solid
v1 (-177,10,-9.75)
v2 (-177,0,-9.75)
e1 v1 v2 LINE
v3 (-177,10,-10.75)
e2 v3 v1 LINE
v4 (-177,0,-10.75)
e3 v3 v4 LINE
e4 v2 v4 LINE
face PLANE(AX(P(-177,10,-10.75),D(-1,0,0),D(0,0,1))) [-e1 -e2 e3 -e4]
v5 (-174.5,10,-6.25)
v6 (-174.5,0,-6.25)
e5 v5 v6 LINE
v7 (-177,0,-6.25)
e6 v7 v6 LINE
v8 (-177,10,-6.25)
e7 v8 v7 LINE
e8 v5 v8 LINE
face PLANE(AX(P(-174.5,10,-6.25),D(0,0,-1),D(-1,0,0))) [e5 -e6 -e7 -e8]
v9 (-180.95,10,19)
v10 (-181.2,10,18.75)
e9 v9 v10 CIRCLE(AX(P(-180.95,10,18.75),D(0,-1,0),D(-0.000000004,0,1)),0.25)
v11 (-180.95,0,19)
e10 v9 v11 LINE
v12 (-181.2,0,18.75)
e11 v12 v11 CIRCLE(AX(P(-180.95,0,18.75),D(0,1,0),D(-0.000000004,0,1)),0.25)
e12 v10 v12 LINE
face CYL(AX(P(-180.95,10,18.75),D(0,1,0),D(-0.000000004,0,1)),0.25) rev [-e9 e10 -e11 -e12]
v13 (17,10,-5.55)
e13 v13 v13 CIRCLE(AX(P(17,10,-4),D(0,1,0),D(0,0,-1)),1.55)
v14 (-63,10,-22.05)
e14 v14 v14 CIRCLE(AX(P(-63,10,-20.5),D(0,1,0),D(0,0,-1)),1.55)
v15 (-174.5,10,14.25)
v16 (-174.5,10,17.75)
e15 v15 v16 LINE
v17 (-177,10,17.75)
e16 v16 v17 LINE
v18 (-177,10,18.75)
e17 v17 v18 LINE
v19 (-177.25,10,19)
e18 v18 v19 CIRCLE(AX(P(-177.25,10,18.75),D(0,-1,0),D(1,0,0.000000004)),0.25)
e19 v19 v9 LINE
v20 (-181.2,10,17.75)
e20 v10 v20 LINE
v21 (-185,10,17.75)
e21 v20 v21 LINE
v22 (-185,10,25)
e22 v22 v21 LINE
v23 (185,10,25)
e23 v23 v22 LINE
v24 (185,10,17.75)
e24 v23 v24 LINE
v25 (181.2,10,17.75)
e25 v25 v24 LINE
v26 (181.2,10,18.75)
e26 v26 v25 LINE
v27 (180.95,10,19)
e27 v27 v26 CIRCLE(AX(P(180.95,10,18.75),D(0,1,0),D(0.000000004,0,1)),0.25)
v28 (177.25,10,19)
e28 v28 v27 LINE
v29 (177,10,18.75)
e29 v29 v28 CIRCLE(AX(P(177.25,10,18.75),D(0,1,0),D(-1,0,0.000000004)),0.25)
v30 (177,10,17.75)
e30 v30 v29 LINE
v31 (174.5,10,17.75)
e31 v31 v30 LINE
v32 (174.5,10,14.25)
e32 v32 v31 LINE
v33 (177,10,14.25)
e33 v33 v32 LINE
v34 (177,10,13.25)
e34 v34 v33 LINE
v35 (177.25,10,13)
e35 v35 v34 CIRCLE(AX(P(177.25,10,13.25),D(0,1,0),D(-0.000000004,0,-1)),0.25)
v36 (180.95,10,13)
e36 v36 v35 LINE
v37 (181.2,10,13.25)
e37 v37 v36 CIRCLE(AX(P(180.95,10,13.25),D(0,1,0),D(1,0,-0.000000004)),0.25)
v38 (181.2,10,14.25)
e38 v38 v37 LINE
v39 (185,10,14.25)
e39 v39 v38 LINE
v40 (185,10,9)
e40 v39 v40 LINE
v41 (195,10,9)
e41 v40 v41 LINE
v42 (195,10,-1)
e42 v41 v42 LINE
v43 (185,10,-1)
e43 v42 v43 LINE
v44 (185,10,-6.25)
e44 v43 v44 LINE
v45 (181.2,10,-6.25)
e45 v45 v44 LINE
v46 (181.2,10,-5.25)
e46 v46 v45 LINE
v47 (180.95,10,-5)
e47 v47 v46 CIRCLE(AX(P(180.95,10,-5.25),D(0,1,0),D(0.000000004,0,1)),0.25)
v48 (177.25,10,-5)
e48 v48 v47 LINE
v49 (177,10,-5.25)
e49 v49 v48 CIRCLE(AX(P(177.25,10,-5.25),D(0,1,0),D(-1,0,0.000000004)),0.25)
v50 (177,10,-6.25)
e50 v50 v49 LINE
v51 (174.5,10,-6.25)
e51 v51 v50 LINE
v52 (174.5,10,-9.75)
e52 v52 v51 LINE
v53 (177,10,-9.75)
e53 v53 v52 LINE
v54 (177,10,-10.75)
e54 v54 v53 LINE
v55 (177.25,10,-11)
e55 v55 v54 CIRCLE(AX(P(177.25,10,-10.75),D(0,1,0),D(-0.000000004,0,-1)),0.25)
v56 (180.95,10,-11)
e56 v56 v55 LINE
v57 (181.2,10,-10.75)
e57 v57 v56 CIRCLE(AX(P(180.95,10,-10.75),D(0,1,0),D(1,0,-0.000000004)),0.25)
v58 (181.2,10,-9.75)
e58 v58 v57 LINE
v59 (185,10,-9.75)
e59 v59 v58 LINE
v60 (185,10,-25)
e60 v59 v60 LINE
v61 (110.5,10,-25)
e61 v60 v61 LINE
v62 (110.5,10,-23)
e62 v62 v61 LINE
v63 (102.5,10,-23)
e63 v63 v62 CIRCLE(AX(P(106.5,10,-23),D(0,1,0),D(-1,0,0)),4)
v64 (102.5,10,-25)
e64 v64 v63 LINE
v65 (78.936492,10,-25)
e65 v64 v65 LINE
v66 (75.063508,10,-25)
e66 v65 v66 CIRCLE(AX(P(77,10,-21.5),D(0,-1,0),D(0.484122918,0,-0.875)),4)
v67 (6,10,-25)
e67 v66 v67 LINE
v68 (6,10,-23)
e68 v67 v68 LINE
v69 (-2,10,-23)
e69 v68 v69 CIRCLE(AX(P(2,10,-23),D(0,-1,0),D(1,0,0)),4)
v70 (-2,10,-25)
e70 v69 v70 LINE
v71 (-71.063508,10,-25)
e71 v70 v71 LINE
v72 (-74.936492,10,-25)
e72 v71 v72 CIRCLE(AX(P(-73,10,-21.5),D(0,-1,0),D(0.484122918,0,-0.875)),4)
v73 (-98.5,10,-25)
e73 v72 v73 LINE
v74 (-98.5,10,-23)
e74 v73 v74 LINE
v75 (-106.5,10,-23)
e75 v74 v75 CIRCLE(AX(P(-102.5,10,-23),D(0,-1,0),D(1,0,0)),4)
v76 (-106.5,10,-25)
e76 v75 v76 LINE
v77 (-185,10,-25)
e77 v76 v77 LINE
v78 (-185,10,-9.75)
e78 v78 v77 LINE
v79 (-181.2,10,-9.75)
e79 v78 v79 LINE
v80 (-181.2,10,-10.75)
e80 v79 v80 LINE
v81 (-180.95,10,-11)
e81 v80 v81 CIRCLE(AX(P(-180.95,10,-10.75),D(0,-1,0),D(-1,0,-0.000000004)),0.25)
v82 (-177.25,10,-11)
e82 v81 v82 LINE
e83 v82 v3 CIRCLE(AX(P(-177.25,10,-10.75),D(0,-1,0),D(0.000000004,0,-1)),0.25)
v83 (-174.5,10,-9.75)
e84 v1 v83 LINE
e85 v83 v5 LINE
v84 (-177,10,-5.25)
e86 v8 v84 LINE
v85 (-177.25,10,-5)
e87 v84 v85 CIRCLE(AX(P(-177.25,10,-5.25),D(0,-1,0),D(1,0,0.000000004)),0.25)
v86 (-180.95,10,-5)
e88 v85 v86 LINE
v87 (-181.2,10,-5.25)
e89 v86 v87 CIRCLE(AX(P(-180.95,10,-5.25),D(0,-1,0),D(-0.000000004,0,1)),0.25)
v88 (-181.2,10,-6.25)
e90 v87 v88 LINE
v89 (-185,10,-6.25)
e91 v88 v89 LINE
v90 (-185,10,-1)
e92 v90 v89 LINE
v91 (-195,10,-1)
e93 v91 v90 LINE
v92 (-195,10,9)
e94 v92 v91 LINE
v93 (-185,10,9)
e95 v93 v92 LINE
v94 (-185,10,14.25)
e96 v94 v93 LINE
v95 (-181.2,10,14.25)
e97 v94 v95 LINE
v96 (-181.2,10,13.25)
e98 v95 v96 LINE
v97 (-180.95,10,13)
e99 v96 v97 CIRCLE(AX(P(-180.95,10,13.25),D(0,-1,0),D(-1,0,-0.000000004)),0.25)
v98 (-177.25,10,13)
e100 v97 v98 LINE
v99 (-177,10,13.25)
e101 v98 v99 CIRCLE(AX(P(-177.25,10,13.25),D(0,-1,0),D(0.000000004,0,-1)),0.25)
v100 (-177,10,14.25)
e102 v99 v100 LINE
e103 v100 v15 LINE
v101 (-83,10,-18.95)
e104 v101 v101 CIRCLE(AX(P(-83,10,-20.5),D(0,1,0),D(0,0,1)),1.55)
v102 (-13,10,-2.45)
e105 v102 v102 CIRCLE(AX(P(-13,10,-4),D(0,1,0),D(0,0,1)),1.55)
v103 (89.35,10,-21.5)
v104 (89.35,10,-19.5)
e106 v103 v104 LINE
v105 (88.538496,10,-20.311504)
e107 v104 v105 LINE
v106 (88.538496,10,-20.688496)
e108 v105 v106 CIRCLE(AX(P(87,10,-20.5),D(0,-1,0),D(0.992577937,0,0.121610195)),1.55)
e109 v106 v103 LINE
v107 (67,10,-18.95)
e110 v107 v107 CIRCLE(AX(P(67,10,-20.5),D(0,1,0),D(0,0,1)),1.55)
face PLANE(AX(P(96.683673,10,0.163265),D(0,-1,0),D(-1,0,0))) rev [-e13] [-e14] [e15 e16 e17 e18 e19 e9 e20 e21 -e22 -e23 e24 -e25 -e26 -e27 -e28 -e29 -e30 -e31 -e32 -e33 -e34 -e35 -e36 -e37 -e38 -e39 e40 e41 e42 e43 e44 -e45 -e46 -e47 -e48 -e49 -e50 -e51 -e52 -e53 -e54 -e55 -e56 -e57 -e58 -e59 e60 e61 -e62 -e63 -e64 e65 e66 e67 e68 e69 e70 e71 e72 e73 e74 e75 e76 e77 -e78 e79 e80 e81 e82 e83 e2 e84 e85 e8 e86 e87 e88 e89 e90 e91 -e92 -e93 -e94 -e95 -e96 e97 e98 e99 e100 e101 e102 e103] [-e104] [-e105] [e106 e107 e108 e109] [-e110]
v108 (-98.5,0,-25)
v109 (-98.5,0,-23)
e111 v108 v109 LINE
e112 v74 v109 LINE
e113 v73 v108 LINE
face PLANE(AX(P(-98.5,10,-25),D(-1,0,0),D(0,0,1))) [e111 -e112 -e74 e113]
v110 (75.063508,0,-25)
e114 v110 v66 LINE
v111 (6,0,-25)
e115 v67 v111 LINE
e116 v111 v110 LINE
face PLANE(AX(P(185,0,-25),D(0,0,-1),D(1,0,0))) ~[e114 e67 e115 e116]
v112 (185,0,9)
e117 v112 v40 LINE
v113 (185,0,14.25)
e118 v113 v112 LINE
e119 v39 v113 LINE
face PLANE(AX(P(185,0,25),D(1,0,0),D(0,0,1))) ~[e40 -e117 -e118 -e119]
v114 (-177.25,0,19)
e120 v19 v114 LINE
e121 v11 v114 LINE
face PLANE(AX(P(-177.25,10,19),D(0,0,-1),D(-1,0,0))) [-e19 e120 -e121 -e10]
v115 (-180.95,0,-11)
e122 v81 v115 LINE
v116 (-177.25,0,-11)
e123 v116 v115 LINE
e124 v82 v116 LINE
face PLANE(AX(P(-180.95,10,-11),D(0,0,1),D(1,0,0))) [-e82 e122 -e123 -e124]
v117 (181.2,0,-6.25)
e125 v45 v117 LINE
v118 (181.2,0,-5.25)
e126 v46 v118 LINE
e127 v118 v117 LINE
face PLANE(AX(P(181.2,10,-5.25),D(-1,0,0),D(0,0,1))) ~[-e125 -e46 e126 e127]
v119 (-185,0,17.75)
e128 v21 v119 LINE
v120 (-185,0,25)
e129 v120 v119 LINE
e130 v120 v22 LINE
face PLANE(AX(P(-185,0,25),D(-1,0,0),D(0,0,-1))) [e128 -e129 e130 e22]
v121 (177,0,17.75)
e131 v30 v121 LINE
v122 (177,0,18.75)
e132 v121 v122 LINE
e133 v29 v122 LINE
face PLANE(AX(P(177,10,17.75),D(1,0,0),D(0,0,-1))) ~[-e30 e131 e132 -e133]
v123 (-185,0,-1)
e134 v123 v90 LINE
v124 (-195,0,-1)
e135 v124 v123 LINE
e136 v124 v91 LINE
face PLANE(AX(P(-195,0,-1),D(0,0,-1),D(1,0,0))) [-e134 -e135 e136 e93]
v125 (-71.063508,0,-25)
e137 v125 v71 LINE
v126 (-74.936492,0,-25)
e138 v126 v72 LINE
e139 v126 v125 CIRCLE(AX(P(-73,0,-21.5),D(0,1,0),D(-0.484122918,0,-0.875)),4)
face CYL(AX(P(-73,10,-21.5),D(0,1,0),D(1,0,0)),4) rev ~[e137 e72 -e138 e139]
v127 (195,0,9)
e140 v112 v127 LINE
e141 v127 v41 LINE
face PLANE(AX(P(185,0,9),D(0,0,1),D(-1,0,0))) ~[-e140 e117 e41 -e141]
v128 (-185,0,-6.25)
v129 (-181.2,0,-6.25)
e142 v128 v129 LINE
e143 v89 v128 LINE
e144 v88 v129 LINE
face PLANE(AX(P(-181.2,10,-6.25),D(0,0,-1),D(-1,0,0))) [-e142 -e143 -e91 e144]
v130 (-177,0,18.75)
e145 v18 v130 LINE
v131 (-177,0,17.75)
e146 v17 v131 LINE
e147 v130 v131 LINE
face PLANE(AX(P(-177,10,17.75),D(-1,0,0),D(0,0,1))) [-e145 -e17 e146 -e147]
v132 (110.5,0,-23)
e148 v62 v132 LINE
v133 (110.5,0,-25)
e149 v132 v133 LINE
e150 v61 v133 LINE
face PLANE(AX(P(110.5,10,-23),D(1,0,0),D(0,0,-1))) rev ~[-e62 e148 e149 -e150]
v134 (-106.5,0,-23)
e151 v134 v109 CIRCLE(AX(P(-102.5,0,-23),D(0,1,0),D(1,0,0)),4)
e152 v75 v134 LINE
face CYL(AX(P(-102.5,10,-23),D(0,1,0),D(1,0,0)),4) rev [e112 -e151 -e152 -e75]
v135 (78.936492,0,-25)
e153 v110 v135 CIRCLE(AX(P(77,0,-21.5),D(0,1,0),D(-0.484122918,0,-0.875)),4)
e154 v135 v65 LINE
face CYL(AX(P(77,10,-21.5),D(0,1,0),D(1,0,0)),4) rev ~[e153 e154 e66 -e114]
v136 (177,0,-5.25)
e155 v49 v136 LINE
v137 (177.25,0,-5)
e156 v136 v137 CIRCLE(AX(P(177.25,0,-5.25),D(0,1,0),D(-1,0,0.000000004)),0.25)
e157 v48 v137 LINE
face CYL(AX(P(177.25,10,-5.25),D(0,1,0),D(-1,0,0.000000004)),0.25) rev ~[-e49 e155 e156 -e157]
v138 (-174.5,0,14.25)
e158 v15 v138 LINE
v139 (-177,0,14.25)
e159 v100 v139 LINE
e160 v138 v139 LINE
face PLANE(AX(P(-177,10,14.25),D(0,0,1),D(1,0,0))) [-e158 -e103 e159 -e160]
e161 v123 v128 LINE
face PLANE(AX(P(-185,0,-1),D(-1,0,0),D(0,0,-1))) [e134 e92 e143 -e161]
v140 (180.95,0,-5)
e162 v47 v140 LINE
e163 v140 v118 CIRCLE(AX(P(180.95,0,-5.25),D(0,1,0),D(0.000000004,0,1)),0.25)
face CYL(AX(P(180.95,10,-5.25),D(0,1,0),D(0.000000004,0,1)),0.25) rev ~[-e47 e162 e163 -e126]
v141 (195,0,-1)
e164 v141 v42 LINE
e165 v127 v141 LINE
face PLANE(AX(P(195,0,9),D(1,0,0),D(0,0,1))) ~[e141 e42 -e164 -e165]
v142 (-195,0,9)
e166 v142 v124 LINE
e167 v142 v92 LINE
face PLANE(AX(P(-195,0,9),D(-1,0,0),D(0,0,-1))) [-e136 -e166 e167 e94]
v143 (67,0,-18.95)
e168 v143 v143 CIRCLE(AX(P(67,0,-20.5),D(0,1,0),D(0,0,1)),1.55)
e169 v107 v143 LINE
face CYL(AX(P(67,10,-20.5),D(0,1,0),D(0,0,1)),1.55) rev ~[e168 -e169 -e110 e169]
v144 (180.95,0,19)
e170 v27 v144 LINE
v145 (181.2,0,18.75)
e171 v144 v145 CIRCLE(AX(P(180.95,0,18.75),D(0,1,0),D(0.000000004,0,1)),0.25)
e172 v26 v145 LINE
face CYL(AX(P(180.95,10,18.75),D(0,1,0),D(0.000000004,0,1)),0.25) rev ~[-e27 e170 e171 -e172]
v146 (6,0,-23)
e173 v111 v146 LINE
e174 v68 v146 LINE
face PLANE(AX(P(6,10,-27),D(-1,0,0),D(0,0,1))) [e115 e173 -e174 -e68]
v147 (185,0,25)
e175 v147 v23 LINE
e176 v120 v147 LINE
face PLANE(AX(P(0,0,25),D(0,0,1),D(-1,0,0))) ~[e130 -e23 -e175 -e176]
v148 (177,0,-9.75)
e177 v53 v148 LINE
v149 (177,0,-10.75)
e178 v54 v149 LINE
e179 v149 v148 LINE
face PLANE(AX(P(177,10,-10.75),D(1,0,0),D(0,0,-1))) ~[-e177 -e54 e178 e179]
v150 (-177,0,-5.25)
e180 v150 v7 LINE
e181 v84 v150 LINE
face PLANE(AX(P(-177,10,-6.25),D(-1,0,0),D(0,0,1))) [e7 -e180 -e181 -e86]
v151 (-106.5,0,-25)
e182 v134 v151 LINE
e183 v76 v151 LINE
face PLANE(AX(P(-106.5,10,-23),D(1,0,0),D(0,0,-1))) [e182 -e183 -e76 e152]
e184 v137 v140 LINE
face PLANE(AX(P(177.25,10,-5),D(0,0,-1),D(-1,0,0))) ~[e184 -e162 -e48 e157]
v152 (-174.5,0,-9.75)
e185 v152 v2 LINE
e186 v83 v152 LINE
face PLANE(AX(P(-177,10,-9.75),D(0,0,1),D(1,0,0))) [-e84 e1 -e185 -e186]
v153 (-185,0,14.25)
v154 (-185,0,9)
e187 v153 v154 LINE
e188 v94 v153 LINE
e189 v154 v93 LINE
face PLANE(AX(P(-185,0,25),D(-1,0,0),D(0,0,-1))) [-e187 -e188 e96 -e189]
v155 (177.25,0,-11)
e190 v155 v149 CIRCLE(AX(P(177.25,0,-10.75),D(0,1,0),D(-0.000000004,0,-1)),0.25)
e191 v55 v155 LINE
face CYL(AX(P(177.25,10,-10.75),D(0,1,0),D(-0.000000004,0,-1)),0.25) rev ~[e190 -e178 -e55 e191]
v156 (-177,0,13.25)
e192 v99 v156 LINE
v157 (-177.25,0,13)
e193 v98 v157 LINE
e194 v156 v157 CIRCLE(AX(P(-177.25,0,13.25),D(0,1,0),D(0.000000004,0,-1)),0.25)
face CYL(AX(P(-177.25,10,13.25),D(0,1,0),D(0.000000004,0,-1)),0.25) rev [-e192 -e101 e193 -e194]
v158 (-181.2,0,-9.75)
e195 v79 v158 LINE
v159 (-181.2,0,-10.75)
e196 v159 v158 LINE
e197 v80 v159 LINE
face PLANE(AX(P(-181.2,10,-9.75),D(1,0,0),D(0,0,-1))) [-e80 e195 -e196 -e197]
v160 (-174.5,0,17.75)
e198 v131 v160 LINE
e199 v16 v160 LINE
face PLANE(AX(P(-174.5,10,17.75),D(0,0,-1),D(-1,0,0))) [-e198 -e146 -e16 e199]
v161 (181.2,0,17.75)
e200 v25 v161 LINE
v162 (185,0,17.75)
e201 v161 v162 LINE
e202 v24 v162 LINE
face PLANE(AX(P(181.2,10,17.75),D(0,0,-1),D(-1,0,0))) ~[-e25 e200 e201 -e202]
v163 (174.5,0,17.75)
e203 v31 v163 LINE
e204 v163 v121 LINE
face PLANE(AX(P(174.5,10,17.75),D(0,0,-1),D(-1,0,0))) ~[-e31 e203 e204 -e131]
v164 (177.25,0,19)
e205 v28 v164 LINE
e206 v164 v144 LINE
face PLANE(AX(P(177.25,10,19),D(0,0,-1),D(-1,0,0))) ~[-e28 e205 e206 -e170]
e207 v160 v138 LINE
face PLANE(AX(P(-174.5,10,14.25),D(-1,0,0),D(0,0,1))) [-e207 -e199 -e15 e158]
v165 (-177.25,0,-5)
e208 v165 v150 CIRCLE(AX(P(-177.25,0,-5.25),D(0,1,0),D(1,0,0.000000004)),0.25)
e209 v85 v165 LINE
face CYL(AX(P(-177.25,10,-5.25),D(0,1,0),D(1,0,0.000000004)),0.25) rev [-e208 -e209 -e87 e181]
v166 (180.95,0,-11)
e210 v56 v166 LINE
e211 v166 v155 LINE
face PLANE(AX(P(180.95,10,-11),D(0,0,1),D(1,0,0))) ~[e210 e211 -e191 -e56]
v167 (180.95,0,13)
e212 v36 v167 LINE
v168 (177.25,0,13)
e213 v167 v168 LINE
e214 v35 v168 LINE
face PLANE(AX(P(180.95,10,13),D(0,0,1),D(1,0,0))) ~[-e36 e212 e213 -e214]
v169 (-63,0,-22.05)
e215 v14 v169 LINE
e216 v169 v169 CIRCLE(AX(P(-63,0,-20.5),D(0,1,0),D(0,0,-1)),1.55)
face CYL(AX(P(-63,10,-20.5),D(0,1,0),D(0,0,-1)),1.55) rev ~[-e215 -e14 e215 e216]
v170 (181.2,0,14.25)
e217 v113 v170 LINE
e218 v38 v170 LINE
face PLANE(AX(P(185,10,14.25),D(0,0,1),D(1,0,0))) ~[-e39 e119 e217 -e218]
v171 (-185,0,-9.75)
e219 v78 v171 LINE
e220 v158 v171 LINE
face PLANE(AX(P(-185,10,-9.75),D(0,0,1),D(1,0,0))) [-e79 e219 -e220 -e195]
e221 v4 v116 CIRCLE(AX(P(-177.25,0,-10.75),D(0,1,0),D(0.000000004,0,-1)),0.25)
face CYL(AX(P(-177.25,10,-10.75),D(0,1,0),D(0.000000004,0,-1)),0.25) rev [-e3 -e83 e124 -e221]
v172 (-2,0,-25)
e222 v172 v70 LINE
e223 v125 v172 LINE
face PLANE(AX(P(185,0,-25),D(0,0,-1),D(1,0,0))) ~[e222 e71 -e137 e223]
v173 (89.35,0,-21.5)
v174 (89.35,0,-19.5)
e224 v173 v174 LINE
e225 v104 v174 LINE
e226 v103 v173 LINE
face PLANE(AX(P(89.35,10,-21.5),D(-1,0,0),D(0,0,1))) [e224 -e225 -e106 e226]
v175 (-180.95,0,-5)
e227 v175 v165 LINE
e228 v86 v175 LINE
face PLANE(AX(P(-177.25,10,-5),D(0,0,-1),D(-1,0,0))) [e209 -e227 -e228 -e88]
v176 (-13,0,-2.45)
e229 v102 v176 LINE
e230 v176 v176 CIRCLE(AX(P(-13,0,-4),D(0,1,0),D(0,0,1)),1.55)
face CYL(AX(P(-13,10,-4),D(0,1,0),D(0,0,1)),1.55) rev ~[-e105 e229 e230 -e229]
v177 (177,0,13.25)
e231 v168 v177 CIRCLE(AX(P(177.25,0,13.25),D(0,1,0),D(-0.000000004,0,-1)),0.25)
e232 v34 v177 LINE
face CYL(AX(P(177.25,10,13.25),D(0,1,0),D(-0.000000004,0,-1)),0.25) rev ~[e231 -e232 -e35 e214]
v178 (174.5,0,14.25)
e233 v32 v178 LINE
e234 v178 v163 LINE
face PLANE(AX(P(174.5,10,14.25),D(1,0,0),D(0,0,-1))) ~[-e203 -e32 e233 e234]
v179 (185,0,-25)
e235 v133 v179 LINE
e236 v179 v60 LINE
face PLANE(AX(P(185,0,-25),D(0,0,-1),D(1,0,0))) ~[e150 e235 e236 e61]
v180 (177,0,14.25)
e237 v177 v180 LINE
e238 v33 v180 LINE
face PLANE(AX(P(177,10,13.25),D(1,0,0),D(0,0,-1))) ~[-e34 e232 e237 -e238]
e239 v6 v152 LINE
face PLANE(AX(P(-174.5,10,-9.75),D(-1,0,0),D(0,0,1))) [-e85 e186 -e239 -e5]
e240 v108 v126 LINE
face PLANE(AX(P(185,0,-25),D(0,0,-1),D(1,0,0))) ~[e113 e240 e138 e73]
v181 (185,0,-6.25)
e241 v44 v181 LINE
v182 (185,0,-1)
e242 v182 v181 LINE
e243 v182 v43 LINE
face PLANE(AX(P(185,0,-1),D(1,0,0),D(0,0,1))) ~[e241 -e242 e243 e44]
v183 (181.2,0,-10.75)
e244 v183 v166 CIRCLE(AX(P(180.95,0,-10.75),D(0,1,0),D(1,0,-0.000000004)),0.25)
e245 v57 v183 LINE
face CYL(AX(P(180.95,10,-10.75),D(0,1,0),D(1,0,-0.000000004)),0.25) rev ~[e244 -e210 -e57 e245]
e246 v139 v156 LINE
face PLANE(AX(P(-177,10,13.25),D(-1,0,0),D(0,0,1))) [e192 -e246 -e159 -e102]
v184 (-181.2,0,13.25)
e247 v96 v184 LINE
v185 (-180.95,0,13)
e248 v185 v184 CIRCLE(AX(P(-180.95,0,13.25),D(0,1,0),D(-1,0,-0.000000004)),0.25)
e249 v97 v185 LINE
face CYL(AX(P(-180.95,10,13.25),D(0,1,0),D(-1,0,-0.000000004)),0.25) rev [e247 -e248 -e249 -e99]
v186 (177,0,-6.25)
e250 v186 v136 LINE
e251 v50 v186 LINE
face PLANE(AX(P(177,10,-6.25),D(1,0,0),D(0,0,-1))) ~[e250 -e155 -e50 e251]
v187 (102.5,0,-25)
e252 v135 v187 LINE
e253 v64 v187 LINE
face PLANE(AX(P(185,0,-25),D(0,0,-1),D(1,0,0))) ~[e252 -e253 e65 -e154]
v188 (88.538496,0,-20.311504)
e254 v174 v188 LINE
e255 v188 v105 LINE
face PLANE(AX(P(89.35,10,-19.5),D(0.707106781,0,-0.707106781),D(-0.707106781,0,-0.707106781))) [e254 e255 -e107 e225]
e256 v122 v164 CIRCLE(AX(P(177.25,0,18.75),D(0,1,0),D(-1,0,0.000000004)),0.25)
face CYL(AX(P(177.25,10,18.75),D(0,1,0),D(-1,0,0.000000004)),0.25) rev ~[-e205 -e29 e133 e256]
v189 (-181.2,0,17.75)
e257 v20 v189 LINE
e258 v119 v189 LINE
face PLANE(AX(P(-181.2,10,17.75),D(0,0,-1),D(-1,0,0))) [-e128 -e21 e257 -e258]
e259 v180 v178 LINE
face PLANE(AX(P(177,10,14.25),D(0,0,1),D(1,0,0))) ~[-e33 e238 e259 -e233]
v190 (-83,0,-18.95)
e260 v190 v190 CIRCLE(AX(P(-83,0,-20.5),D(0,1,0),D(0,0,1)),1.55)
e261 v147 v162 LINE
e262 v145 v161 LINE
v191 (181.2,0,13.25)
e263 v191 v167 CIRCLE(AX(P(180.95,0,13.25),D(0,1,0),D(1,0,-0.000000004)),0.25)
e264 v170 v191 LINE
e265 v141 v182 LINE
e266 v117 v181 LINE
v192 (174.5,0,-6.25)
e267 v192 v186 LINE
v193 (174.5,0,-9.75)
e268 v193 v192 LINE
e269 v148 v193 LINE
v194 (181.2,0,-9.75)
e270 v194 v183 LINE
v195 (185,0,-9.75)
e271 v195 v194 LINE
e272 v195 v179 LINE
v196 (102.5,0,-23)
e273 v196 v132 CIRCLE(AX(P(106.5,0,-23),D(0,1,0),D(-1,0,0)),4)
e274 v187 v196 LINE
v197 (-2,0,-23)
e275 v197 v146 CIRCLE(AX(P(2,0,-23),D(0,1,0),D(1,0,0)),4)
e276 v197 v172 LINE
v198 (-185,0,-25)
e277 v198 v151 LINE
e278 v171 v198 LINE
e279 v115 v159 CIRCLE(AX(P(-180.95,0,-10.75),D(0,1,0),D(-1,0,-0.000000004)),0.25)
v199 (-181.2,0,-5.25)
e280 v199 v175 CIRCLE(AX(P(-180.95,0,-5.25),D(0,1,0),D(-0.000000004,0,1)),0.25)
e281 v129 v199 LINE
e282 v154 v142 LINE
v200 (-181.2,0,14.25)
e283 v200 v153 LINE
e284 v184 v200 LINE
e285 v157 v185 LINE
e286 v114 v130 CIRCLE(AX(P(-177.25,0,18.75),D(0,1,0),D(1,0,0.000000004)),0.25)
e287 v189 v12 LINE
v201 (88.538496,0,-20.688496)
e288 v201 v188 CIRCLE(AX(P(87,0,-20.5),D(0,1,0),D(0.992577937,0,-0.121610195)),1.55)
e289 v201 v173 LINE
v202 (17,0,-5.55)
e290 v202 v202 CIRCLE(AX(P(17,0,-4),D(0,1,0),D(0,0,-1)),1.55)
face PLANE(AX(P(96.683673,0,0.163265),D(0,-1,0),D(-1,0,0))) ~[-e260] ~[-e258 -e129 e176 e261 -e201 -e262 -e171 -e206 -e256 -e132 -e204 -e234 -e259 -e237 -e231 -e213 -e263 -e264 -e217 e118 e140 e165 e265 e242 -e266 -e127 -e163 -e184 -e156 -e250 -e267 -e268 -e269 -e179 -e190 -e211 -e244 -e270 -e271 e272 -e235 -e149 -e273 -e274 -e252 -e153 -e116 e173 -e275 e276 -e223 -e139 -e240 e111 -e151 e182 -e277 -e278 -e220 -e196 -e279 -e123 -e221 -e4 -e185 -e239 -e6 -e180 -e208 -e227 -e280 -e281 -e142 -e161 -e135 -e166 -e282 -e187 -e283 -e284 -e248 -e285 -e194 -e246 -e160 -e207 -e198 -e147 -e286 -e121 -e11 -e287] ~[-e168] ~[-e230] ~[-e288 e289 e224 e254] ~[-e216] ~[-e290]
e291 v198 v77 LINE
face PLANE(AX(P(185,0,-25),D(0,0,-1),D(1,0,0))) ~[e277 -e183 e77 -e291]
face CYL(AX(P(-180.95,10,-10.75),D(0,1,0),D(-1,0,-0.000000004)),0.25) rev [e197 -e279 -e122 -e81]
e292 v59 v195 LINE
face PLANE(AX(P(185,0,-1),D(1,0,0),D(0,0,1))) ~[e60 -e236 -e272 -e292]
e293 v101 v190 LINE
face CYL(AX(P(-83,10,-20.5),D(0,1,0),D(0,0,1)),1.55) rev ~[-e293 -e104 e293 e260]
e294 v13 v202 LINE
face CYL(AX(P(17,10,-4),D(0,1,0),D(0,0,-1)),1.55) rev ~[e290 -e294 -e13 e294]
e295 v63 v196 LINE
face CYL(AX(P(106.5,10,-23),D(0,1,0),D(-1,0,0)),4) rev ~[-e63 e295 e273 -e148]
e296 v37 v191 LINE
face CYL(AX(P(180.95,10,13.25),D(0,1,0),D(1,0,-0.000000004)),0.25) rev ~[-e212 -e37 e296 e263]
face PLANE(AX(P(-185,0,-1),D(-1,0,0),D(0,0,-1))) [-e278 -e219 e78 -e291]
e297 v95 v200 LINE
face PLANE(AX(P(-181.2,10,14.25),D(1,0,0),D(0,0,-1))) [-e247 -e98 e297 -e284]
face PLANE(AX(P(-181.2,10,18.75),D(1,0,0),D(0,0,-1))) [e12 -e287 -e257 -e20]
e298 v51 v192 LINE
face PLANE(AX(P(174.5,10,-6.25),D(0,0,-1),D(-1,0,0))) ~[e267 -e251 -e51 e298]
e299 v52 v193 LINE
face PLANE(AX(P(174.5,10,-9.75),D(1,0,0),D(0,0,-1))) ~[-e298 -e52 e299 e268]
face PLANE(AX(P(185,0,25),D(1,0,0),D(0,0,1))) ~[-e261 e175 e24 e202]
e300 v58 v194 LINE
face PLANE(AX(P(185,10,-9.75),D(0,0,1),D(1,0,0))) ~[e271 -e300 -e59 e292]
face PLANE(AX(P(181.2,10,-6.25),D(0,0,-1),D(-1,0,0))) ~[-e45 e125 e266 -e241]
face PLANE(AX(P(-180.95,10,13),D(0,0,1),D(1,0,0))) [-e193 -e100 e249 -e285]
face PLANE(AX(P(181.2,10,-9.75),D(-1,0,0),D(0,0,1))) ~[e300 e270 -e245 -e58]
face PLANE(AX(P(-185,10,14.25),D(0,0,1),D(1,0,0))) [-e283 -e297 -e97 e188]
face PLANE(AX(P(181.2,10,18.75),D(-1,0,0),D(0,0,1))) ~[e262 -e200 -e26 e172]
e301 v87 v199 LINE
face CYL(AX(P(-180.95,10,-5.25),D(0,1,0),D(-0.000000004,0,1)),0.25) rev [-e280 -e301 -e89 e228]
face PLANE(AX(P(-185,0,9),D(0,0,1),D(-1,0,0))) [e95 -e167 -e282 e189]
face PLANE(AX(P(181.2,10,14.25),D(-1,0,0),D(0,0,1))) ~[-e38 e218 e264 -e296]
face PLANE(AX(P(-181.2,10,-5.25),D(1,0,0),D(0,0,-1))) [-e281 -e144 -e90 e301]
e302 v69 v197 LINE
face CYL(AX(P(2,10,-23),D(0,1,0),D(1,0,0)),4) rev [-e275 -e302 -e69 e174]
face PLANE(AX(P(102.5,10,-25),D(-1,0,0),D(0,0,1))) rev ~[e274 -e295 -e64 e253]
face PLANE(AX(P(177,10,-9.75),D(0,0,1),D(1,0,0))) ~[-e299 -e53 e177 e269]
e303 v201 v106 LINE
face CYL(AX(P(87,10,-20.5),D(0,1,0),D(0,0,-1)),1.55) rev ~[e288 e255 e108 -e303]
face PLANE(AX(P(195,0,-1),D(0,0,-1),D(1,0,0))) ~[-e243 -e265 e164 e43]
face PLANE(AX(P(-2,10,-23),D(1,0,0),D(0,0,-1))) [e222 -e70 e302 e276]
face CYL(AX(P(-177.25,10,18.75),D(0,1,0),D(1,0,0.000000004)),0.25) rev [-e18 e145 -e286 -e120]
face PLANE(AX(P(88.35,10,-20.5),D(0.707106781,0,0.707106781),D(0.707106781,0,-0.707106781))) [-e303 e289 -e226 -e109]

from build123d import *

# Parameters (mm, degrees)
MAINBODY_DEPTH                 = 10
SCREWCUTOUTS_DEPTH             = 197.85019685
SKETCH3_R                      = 4
SKETCH3_R_2                    = 1.55
RODCUTOUTS_DEPTH               = 197.85019685
SKETCH6_R                      = 1.55
CUT_EXTRUDE1_DEPTH             = 197.85019685
BEDADJUSTMENTSCREWCUTOUT_DEPTH = 197.85019685
DIRECTIONKEY_DEPTH             = 197.85019685
CUT_EXTRUDE2_DEPTH             = 197.85019685


with BuildPart() as part:
    # Sketch1 → MainBody (new body)
    with BuildSketch(Plane(origin=(0, 0, 0), x_dir=(1, 0, 0), z_dir=(0, 1, 0))):
        Polygon((0, 25), (0, -25), (-185, -25), (-185, -9), (-195, -9), (-195, 1), (-185, 1), (-185, 25), align=None)
    mainbody = extrude(amount=MAINBODY_DEPTH)

    # Sketch5 → ScrewCutouts (cut, through all)
    with BuildSketch(Plane(origin=(0, 10, 0), x_dir=(1, 0, 0), z_dir=(0, 1, 0))):
        with BuildLine():
            Line((-185, 9.75), (-181.2, 9.75))
            Line((-181.2, 9.75), (-181.2, 10.75))
            ThreePointArc((-181.2, 10.75), (-181.126776695, 10.926776695), (-180.95, 11))
            Line((-180.95, 11), (-177.25, 11))
            ThreePointArc((-177.25, 11), (-177.073223305, 10.926776695), (-177, 10.75))
            Line((-177, 10.75), (-177, 9.75))
            Line((-177, 9.75), (-174.5, 9.75))
            Line((-174.5, 9.75), (-174.5, 6.25))
            Line((-174.5, 6.25), (-177, 6.25))
            Line((-177, 6.25), (-177, 5.25))
            ThreePointArc((-177, 5.25), (-177.073223305, 5.073223305), (-177.25, 5))
            Line((-177.25, 5), (-180.95, 5))
            ThreePointArc((-180.95, 5), (-181.126776695, 5.073223305), (-181.2, 5.25))
            Line((-181.2, 5.25), (-181.2, 6.25))
            Line((-181.2, 6.25), (-185, 6.25))
            Line((-185, 6.25), (-185, 9.75))
        make_face()
        with BuildLine():
            Line((-185, -14.25), (-181.2, -14.25))
            Line((-181.2, -14.25), (-181.2, -13.25))
            ThreePointArc((-181.2, -13.25), (-181.126776695, -13.073223305), (-180.95, -13))
            Line((-180.95, -13), (-177.25, -13))
            ThreePointArc((-177.25, -13), (-177.073223305, -13.073223305), (-177, -13.25))
            Line((-177, -13.25), (-177, -14.25))
            Line((-177, -14.25), (-174.5, -14.25))
            Line((-174.5, -14.25), (-174.5, -17.75))
            Line((-174.5, -17.75), (-177, -17.75))
            Line((-177, -17.75), (-177, -18.75))
            ThreePointArc((-177, -18.75), (-177.073223305, -18.926776695), (-177.25, -19))
            Line((-177.25, -19), (-180.95, -19))
            ThreePointArc((-180.95, -19), (-181.126776695, -18.926776695), (-181.2, -18.75))
            Line((-181.2, -18.75), (-181.2, -17.75))
            Line((-181.2, -17.75), (-185, -17.75))
            Line((-185, -17.75), (-185, -14.25))
        make_face()
    screwcutouts = extrude(amount=-SCREWCUTOUTS_DEPTH, mode=Mode.SUBTRACT)

    # Mirror1: MainBody, ScrewCutouts across plane
    add(mainbody.mirror(Plane(origin=(0, 0, 0), x_dir=(0, 0, 1), z_dir=(1, 0, 0))))
    add(screwcutouts.mirror(Plane(origin=(0, 0, 0), x_dir=(0, 0, 1), z_dir=(1, 0, 0))), mode=Mode.SUBTRACT)

    # Sketch3 → RodCutouts (cut, through all)
    with BuildSketch(Plane(origin=(0, 10, 0), x_dir=(1, 0, 0), z_dir=(0, 1, 0))):
        with Locations((-73, 21.5)):
            Circle(SKETCH3_R)
        with Locations(Location((-83, 20.5, 0), (0, 0, 270))):
            Circle(SKETCH3_R_2)
        with Locations(Location((-63, 20.5, 0), (0, 0, 90))):
            Circle(SKETCH3_R_2)
        with Locations(Location((67, 20.5, 0), (0, 0, 270))):
            Circle(SKETCH3_R_2)
        with Locations(Location((87, 20.5, 0), (0, 0, 90))):
            Circle(SKETCH3_R_2)
        with Locations((77, 21.5)):
            Circle(SKETCH3_R)
    extrude(amount=-RODCUTOUTS_DEPTH, mode=Mode.SUBTRACT)

    # Sketch6 → Cut-Extrude1 (cut, through all)
    with BuildSketch(Plane(origin=(0, 10, 0), x_dir=(1, 0, 0), z_dir=(0, 1, 0))):
        with Locations(Location((-13, 4, 0), (0, 0, 270))):
            Circle(SKETCH6_R)
        with Locations(Location((17, 4, 0), (0, 0, 90))):
            Circle(SKETCH6_R)
    extrude(amount=-CUT_EXTRUDE1_DEPTH, mode=Mode.SUBTRACT)

    # Sketch7 → BedAdjustmentScrewCutout (cut, through all)
    with BuildSketch(Plane(origin=(0, 10, 0), x_dir=(1, 0, 0), z_dir=(0, 1, 0))):
        with BuildLine():
            Line((-98.5, 25), (-98.5, 23))
            ThreePointArc((-98.5, 23), (-102.5, 19), (-106.5, 23))
            Line((-106.5, 23), (-106.5, 25))
            ThreePointArc((-106.5, 25), (-102.5, 29), (-98.5, 25))
        make_face()
        with BuildLine():
            Line((102.5, 25), (102.5, 23))
            ThreePointArc((102.5, 23), (106.5, 19), (110.5, 23))
            Line((110.5, 23), (110.5, 25))
            ThreePointArc((110.5, 25), (106.5, 29), (102.5, 25))
        make_face()
    extrude(amount=-BEDADJUSTMENTSCREWCUTOUT_DEPTH, mode=Mode.SUBTRACT)

    # Sketch8 → DirectionKey (cut, through all)
    with BuildSketch(Plane(origin=(0, 10, 0), x_dir=(1, 0, 0), z_dir=(0, 1, 0))):
        Polygon((88.35, 20.5), (89.35, 21.5), (89.35, 19.5), align=None)
    extrude(amount=-DIRECTIONKEY_DEPTH, mode=Mode.SUBTRACT)

    # Sketch9 → Cut-Extrude2 (cut, through all)
    with BuildSketch(Plane(origin=(0, 10, 0), x_dir=(1, 0, 0), z_dir=(0, 1, 0))):
        with BuildLine():
            Line((6, 27), (6, 23))
            ThreePointArc((6, 23), (2, 19), (-2, 23))
            Line((-2, 23), (-2, 27))
            ThreePointArc((-2, 27), (2, 31), (6, 27))
        make_face()
    extrude(amount=-CUT_EXTRUDE2_DEPTH, mode=Mode.SUBTRACT)


solid = part.part
